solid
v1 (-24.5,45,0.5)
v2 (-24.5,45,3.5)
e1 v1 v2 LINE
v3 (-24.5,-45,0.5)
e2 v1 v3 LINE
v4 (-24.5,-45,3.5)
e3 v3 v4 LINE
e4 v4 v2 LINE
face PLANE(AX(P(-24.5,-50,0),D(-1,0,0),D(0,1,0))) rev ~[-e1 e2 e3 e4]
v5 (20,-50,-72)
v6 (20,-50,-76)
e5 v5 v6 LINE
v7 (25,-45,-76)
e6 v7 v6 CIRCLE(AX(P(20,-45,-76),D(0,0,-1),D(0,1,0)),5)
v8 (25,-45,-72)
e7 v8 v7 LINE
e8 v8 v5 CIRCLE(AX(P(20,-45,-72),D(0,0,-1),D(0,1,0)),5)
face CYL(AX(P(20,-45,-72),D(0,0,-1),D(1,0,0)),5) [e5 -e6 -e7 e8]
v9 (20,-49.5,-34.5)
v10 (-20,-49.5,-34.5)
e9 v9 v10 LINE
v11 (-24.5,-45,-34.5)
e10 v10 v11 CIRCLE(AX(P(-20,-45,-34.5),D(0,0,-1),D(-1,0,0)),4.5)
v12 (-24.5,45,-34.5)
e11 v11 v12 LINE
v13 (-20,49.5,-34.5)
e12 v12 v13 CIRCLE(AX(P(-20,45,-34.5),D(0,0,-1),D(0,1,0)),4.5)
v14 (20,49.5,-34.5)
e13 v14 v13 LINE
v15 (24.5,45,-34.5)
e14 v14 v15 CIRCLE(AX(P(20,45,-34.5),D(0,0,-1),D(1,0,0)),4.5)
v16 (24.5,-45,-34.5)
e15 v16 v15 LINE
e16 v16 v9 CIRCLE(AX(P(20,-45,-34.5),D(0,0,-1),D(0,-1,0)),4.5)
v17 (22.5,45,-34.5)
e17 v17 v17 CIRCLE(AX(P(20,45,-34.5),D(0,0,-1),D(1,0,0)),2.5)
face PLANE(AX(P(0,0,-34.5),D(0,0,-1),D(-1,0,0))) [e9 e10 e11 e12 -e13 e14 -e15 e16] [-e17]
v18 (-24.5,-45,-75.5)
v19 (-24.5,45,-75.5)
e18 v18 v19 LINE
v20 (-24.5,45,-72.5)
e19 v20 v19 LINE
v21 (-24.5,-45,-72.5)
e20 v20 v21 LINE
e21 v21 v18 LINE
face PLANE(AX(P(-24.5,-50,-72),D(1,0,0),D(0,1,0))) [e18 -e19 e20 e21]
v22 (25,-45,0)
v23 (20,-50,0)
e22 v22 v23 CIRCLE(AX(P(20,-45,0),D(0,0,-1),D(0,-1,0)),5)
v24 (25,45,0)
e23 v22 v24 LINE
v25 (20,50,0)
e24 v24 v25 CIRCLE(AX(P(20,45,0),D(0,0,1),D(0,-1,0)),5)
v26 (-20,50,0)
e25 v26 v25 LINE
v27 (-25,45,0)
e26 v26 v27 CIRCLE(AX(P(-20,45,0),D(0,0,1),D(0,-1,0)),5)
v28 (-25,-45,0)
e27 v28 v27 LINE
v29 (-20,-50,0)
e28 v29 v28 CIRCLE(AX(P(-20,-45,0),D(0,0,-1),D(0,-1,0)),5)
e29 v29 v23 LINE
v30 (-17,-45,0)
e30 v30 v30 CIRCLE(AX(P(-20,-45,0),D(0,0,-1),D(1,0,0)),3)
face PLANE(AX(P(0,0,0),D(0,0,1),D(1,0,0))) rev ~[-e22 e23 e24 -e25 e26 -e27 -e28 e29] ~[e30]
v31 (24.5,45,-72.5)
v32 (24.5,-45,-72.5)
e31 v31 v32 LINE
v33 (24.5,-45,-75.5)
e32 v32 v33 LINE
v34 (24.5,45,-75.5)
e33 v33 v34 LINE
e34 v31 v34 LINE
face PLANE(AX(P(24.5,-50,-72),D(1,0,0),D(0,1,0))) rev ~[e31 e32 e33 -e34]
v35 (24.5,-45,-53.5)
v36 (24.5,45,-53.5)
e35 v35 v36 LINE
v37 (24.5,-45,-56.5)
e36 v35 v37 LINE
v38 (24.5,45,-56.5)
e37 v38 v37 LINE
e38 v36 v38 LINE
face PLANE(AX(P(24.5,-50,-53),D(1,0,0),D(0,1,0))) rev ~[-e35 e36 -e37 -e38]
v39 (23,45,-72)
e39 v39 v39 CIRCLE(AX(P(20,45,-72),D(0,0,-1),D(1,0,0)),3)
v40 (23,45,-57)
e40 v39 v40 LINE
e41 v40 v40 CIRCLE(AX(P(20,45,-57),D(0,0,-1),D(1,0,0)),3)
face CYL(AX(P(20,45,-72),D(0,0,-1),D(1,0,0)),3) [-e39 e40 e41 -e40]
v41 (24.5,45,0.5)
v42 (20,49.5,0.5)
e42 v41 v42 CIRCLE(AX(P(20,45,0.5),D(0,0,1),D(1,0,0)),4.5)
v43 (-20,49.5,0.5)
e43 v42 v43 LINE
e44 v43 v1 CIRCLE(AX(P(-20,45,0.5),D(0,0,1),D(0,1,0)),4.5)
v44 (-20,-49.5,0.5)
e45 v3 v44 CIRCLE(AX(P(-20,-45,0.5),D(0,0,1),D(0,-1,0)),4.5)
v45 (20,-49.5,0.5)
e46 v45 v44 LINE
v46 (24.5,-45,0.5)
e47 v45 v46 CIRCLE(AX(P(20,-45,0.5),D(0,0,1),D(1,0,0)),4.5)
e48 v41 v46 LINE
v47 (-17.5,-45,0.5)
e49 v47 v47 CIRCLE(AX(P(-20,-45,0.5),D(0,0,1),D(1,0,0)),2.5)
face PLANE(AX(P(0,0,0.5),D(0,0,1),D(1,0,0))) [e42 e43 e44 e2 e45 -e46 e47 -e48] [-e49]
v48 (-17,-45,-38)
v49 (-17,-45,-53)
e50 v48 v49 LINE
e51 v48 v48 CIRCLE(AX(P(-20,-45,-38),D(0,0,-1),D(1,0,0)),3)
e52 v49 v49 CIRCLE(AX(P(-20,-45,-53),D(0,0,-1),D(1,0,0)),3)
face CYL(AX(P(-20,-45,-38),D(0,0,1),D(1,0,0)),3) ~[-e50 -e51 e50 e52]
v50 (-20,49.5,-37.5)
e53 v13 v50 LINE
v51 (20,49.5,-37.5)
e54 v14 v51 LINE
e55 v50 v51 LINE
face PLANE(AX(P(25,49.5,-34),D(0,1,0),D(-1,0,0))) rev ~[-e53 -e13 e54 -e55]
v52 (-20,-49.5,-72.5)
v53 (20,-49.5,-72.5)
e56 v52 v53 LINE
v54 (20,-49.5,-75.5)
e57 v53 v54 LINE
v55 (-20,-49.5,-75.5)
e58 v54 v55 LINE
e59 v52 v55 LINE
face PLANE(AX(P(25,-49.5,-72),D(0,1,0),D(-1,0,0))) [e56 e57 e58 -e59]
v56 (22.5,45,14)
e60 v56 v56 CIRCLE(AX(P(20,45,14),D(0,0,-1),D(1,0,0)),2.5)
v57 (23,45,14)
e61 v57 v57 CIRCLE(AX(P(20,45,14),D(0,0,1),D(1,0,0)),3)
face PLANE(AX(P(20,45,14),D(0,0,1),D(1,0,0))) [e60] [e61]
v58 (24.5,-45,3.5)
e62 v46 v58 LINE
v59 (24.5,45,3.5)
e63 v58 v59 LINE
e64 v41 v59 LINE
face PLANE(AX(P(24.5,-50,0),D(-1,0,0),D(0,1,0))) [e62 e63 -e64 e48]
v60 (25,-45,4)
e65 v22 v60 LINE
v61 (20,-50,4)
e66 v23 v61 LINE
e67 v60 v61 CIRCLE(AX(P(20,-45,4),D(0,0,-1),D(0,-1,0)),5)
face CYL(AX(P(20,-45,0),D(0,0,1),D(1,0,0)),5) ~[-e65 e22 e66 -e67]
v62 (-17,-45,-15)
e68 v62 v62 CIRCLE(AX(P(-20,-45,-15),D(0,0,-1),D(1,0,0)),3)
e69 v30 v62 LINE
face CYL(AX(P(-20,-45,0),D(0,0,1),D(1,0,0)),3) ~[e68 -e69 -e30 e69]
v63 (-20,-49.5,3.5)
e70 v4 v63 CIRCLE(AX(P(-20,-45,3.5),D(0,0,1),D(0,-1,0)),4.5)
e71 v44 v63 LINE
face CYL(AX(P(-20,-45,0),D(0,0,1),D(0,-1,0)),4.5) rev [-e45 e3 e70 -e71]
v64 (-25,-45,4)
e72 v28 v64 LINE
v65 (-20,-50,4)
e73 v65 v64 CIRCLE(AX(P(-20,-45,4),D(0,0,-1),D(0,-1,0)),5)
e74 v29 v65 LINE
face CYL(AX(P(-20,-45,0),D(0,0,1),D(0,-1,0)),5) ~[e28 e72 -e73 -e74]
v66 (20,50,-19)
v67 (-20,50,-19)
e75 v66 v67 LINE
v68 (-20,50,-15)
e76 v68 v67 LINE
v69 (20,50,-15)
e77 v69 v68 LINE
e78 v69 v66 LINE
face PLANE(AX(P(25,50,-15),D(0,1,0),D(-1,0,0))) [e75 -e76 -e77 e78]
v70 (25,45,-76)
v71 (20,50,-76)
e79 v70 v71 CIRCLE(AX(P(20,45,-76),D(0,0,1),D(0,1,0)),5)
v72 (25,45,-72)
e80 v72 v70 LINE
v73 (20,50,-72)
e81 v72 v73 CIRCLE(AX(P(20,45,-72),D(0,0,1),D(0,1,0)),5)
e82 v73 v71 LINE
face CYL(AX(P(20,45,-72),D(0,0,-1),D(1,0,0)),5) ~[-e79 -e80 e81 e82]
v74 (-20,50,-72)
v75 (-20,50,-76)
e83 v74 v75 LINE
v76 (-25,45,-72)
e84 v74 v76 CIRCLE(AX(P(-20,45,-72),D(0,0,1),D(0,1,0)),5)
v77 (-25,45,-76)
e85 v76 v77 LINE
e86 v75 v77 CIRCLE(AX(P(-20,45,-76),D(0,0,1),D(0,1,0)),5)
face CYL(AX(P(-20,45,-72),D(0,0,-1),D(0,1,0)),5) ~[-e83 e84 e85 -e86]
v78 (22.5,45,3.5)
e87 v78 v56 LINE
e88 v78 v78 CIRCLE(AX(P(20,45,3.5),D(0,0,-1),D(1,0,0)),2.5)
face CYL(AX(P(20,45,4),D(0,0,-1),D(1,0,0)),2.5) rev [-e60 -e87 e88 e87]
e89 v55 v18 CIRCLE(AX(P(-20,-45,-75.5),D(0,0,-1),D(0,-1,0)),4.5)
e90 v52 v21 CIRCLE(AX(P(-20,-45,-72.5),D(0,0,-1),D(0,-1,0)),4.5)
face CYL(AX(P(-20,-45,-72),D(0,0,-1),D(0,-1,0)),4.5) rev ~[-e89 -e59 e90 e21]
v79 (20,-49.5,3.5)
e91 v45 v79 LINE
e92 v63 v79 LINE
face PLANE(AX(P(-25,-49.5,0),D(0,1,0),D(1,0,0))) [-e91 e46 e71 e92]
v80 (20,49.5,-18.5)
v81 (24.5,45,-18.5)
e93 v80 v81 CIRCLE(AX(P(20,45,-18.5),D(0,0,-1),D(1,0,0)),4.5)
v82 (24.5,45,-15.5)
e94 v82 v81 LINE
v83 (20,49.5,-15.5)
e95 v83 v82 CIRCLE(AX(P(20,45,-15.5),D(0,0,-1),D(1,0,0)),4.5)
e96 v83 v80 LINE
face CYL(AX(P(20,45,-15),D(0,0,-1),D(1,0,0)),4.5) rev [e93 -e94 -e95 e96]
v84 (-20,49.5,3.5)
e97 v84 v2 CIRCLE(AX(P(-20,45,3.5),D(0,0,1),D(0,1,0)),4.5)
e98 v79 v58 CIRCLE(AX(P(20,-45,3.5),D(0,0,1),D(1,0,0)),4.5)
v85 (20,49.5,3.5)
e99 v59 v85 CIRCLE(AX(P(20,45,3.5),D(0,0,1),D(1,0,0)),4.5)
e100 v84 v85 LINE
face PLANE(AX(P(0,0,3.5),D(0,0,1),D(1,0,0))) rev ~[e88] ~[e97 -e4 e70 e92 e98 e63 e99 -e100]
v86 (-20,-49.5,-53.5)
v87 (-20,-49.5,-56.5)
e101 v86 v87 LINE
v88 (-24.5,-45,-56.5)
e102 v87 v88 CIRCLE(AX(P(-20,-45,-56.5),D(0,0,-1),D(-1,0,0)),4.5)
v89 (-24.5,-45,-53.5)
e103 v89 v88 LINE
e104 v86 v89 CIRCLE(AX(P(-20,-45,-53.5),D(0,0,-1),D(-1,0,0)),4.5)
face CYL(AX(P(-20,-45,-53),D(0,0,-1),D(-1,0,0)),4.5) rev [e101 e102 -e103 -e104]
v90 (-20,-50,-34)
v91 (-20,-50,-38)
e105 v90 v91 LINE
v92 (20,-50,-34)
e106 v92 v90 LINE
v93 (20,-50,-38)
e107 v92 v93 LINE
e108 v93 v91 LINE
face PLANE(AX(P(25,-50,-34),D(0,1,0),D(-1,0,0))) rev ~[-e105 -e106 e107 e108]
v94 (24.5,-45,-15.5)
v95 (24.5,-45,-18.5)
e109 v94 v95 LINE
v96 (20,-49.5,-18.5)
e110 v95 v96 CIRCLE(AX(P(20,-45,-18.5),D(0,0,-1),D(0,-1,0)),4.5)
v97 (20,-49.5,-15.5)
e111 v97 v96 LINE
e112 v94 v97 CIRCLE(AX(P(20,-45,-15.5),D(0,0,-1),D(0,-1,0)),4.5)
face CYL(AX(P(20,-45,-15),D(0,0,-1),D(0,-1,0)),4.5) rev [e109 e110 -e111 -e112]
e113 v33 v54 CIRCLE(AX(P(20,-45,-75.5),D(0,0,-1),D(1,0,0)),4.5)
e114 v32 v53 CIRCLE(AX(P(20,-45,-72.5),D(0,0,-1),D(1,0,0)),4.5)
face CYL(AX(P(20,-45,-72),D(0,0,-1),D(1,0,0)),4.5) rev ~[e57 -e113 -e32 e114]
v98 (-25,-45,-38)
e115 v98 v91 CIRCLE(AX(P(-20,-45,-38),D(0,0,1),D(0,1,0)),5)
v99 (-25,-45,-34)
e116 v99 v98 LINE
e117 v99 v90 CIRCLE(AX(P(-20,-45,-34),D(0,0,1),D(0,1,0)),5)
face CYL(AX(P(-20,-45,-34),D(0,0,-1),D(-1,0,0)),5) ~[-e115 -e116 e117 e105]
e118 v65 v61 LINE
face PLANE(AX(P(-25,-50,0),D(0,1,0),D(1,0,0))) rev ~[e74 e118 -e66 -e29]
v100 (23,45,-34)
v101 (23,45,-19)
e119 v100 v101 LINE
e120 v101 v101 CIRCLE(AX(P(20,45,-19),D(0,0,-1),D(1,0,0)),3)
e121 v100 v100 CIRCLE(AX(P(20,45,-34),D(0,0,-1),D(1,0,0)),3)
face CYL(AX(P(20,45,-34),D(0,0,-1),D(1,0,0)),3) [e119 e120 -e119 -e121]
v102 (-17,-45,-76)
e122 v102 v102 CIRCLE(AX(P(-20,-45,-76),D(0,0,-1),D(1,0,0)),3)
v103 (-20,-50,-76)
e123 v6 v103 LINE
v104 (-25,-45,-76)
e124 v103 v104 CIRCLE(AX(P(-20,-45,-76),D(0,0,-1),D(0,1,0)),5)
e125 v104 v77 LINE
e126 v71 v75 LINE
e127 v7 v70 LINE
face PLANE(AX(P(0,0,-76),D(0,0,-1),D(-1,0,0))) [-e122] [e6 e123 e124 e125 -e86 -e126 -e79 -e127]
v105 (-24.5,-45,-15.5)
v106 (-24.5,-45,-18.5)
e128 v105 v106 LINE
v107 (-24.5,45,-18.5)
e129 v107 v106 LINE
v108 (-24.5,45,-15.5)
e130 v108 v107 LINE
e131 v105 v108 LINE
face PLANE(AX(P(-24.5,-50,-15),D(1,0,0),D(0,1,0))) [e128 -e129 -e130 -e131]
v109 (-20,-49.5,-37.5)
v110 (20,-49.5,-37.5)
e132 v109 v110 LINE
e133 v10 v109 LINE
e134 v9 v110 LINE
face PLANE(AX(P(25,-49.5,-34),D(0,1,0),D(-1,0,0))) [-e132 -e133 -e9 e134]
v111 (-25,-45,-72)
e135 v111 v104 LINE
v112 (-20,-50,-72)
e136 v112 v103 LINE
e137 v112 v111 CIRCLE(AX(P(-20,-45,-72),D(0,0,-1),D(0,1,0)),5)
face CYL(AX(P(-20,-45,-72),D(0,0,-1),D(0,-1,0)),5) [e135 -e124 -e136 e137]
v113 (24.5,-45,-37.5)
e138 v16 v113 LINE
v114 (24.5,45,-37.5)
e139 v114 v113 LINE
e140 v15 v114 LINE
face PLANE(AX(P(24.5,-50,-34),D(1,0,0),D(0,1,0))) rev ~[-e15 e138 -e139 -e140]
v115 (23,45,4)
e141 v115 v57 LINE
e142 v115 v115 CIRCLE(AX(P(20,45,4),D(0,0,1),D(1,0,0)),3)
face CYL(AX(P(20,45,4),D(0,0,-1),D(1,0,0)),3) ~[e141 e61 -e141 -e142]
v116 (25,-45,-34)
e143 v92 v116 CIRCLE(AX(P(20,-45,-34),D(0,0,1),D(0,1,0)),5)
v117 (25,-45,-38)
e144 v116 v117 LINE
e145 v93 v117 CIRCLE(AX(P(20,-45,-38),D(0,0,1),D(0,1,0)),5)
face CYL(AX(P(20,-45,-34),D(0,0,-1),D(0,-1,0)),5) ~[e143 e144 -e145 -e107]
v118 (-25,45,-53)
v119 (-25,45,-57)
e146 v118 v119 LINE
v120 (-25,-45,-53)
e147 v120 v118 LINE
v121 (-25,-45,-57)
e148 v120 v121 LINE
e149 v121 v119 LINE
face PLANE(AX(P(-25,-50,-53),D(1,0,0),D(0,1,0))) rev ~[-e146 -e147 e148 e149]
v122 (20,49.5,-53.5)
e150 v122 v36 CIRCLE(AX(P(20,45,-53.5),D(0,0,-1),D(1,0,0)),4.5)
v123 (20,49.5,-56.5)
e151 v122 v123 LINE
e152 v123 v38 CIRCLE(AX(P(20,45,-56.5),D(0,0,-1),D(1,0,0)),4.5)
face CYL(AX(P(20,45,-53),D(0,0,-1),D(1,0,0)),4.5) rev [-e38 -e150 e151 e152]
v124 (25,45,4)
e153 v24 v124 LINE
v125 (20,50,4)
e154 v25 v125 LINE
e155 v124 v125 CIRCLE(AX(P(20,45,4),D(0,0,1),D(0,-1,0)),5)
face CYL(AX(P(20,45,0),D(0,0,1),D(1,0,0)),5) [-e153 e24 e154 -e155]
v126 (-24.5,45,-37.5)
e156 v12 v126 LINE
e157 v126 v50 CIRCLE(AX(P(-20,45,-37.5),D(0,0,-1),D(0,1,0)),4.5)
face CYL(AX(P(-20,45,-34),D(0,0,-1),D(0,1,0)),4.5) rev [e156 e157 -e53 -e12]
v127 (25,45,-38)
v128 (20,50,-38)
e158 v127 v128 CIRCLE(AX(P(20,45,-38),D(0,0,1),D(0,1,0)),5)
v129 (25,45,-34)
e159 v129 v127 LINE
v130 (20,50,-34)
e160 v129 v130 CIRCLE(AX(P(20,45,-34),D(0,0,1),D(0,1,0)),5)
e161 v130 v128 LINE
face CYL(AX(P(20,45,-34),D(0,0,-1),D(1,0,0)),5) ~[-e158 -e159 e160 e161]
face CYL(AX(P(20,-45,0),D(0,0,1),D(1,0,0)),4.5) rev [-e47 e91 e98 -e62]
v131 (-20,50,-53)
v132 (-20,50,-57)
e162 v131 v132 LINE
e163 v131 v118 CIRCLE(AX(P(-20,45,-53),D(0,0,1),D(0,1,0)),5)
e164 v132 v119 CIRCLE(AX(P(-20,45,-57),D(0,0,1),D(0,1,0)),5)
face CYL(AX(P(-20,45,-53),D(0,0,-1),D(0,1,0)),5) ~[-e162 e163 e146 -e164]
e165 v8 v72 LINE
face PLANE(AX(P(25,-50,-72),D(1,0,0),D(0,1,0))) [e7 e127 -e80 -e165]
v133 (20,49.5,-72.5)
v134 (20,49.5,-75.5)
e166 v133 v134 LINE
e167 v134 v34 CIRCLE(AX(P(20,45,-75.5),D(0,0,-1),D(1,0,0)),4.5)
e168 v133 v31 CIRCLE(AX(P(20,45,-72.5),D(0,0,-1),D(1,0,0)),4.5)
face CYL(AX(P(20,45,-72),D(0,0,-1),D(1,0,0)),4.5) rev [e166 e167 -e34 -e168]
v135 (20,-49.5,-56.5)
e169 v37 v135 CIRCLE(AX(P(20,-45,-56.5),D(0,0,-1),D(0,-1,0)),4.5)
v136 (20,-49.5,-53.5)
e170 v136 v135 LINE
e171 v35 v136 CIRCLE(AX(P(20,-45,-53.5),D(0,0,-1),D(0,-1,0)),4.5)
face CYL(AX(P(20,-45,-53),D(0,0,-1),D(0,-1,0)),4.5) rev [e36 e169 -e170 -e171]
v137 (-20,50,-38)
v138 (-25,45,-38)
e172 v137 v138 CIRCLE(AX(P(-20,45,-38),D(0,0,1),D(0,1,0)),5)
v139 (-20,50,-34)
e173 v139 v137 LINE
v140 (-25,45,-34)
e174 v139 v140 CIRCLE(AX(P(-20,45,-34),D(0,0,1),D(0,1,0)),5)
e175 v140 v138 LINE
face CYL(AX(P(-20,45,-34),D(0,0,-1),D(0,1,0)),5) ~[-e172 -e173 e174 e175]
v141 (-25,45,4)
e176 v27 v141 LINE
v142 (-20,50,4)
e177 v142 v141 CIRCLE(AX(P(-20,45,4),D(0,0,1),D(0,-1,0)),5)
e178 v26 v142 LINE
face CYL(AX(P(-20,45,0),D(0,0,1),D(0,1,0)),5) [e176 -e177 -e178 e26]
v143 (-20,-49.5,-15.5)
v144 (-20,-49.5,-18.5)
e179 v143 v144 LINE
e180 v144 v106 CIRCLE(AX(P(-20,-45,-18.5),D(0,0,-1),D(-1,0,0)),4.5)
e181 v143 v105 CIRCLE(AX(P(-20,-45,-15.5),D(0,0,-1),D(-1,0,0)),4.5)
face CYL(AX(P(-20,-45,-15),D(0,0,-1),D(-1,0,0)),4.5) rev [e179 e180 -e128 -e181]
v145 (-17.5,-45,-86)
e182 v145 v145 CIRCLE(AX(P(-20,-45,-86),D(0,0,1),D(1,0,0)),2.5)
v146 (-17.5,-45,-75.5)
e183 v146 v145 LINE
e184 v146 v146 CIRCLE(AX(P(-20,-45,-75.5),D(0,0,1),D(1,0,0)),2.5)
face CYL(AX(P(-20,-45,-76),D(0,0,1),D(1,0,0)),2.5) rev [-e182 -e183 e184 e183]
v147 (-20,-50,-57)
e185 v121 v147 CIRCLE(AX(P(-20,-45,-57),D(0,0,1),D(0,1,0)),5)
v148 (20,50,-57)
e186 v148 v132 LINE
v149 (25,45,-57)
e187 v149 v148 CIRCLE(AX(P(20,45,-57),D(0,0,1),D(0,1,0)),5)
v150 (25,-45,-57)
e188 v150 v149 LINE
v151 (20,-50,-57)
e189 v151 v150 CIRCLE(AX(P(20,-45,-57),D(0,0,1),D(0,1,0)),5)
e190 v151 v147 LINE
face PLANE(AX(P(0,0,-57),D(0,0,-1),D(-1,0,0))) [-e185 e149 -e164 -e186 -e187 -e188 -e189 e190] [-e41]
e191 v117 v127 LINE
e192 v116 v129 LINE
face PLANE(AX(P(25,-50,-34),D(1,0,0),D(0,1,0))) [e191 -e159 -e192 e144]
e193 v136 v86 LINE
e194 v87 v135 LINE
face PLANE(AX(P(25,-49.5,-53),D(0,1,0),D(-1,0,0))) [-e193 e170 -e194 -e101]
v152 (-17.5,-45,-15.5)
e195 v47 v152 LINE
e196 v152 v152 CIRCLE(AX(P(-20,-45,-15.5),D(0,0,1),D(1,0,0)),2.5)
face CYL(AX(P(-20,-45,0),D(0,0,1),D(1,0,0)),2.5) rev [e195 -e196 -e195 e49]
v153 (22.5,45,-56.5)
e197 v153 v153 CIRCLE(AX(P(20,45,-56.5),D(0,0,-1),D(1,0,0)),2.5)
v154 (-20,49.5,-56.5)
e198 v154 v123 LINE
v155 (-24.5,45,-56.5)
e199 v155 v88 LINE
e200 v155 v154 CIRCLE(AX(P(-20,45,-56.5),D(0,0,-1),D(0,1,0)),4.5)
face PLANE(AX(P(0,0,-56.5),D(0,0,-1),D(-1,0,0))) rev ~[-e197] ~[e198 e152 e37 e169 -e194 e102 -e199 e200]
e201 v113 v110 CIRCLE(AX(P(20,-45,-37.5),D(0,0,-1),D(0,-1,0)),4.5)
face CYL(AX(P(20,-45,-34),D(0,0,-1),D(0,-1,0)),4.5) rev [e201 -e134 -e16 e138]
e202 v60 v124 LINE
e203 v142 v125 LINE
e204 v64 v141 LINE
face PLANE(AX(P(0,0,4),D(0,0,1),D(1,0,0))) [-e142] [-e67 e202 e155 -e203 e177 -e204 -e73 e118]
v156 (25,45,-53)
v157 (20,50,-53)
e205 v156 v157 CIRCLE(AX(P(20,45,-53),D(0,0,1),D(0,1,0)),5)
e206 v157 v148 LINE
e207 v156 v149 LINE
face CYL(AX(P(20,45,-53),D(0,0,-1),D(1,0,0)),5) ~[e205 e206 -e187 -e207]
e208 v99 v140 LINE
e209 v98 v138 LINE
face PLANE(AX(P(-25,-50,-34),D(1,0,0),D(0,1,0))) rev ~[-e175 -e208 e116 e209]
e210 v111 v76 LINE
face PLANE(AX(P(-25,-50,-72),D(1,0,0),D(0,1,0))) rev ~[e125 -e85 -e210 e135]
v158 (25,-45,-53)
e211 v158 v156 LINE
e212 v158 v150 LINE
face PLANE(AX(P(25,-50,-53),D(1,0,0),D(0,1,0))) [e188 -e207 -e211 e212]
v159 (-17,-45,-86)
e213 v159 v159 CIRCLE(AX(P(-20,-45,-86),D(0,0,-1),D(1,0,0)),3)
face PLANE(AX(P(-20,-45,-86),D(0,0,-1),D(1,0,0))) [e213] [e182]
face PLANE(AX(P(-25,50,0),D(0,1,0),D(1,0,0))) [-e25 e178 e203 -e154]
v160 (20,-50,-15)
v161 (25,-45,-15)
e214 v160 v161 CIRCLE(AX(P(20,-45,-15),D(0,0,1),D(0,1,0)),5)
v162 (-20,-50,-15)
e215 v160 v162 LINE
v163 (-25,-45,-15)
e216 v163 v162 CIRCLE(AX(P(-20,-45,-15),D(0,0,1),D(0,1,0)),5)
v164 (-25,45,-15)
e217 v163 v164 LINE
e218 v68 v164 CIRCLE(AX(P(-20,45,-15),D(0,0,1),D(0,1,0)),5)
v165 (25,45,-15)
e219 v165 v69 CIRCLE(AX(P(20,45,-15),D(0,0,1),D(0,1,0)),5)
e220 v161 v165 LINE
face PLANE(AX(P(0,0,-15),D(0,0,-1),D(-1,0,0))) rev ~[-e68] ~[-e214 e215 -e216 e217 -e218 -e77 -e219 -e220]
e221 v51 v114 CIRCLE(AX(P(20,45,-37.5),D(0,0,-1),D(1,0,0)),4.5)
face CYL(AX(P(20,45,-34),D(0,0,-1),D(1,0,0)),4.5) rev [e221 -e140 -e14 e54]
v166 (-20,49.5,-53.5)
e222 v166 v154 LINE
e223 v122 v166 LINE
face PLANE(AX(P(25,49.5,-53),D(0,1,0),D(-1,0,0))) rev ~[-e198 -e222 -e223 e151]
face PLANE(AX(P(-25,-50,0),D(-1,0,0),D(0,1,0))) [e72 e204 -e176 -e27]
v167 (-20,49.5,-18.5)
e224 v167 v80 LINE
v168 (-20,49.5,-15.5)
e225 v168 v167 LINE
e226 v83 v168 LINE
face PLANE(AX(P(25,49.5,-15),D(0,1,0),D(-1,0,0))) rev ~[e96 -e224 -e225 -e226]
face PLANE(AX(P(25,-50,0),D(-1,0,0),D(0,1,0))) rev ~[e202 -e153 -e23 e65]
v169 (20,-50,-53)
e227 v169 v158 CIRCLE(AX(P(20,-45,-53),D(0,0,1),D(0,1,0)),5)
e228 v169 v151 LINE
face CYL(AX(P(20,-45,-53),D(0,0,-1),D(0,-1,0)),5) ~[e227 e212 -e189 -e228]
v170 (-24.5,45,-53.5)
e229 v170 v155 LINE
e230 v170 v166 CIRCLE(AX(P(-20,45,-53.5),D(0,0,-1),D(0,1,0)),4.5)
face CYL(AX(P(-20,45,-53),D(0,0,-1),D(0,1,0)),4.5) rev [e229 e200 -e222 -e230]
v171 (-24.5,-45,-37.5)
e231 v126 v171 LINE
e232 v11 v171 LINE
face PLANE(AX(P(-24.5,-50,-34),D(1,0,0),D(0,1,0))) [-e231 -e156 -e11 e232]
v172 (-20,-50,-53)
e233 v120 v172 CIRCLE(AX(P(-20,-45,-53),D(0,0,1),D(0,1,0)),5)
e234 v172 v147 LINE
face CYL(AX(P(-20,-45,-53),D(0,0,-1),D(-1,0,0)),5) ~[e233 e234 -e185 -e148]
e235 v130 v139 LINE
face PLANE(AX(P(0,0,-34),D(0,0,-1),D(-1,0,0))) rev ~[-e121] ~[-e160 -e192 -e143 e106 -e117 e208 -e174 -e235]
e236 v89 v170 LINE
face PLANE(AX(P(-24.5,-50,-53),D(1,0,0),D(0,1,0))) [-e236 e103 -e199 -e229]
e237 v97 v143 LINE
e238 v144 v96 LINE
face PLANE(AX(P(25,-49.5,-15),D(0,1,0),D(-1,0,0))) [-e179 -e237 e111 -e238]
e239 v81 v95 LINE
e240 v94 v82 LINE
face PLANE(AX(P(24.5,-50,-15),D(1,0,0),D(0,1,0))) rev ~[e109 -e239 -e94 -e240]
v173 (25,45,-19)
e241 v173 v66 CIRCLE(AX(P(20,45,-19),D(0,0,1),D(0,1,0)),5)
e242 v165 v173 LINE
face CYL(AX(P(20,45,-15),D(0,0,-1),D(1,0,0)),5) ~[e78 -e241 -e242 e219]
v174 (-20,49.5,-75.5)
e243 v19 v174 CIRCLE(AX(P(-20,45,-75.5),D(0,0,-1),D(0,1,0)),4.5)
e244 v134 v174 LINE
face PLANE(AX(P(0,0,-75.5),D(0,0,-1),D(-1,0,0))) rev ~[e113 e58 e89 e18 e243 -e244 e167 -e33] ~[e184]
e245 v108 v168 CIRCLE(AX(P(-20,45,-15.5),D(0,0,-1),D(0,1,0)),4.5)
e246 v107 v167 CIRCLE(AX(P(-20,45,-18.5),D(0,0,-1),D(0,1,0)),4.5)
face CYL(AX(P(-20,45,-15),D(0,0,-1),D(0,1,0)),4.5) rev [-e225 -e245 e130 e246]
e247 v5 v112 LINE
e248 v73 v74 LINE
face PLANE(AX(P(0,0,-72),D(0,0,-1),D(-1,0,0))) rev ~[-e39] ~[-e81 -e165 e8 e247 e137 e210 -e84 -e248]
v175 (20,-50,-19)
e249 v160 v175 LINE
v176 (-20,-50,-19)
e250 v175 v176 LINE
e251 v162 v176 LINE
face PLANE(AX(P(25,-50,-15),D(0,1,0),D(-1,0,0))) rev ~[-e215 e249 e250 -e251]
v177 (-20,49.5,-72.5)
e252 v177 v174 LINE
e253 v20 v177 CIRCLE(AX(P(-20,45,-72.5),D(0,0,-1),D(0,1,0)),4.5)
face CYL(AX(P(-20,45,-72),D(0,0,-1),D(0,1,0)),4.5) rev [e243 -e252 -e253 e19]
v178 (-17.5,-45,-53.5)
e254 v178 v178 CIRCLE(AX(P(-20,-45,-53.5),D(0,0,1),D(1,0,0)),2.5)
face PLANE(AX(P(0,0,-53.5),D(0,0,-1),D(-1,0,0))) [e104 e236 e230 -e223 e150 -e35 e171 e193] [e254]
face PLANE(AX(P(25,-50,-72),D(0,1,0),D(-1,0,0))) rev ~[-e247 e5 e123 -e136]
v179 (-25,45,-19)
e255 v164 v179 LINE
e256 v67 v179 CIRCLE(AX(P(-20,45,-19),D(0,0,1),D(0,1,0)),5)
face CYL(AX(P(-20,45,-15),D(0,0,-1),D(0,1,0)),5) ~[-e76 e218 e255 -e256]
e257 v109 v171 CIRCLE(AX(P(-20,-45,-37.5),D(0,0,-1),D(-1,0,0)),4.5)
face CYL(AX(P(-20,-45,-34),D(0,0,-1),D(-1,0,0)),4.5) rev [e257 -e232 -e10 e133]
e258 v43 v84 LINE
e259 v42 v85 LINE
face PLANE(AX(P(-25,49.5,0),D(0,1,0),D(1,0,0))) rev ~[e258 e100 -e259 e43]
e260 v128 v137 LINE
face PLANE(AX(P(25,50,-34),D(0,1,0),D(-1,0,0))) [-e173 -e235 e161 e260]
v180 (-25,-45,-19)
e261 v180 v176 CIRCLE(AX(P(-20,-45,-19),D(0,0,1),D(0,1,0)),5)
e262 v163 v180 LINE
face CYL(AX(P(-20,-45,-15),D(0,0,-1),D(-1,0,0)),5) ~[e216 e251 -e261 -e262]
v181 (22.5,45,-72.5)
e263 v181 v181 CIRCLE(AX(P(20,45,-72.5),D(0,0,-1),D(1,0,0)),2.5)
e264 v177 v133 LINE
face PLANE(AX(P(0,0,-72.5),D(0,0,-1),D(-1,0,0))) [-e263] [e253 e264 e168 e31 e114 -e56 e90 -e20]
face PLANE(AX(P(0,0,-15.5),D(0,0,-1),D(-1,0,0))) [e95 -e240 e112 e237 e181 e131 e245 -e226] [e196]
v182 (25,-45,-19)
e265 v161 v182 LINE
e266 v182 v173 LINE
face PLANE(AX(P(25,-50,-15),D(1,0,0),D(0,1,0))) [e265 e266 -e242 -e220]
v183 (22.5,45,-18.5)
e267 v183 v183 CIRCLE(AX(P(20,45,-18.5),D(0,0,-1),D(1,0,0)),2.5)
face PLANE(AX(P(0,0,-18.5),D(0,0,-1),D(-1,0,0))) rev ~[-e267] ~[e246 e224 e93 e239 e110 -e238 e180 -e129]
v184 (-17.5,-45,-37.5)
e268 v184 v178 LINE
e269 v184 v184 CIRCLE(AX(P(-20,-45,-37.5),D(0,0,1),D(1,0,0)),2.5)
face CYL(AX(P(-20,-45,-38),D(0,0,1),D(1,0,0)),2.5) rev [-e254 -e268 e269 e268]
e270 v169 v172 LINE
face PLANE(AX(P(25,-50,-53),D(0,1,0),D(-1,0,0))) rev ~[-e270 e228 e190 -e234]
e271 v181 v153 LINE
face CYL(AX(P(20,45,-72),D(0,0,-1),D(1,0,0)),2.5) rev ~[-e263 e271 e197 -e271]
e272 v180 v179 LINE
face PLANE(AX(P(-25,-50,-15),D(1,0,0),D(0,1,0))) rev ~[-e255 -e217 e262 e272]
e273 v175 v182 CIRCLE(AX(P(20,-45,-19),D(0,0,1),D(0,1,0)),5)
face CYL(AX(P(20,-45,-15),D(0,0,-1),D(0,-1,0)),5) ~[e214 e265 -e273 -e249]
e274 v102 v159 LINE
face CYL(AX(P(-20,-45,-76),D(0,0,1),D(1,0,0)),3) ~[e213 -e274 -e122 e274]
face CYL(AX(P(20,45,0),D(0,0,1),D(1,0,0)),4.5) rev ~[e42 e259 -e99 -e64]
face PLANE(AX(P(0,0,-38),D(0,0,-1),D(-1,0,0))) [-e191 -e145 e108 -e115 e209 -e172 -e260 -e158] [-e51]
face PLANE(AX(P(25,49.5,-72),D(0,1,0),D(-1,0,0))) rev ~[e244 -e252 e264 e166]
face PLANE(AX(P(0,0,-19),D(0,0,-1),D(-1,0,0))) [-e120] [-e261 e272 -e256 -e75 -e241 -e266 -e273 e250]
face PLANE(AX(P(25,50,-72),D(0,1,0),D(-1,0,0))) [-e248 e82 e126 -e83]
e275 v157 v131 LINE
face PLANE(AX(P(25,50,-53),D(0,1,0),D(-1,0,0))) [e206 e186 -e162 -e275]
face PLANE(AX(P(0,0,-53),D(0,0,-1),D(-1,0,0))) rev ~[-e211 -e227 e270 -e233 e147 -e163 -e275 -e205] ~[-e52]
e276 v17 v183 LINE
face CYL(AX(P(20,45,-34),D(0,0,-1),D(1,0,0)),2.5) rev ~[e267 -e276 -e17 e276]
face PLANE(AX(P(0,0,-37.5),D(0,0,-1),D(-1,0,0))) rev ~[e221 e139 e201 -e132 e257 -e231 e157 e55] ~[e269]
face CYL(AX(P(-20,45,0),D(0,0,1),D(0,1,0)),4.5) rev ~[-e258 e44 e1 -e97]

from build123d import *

# Parameters (mm, degrees)
SKETCH_1_W       = 50
SKETCH_1_H       = 100
EXTRUDE_1_DEPTH  = 4
FILLET_2_R       = 5
FILLET_3_R       = 5
FILLET_4_R       = 5
FILLET_5_R       = 5
SKETCH_2_R       = 3
EXTRUDE_2_DEPTH  = 10
SKETCH_3_R       = 3
EXTRUDE_3_DEPTH  = 15
SKETCH_6_W       = 50
SKETCH_6_H       = 100
EXTRUDE_4_DEPTH  = 4
FILLET_6_R       = 5
FILLET_7_R       = 5
FILLET_8_R       = 5
FILLET_9_R       = 5
SKETCH_7_W       = 50
SKETCH_7_H       = 100
EXTRUDE_5_DEPTH  = 4
EXTRUDE_START    = 15
SKETCH_8_R       = 3
EXTRUDE_6_DEPTH  = 15
SKETCH_9_W       = 50
SKETCH_9_H       = 100
EXTRUDE_7_DEPTH  = 4
SKETCH_11_R      = 3
EXTRUDE_9_DEPTH  = 15
FILLET_10_R      = 5
FILLET_11_R      = 5
FILLET_12_R      = 5
FILLET_13_R      = 5
FILLET_14_R      = 5
FILLET_15_R      = 5
FILLET_16_R      = 5
FILLET_17_R      = 5
SKETCH_13_W      = 50
SKETCH_13_H      = 100
EXTRUDE_10_DEPTH = 4
SKETCH_14_R      = 3
EXTRUDE_11_DEPTH = 15
FILLET_18_R      = 5
FILLET_19_R      = 5
FILLET_20_R      = 5
FILLET_21_R      = 5
SKETCH_15_R      = 3
EXTRUDE_12_DEPTH = 10
SHELL_1_T        = -0.5


with BuildPart() as part:
    # 草图1 → 凸台-拉伸1 (new body)
    with BuildSketch(Plane.XY):
        Rectangle(SKETCH_1_W, SKETCH_1_H)
    extrude(amount=EXTRUDE_1_DEPTH)

    # 圆角2
    fillet_2_edges = [part.edges().sort_by_distance(p)[0] for p in [
        (25, 50, 2),
    ]]
    fillet(fillet_2_edges, radius=FILLET_2_R)

    # 圆角3
    fillet_3_edges = [part.edges().sort_by_distance(p)[0] for p in [
        (-25, 50, 2),
    ]]
    fillet(fillet_3_edges, radius=FILLET_3_R)

    # 圆角4
    fillet_4_edges = [part.edges().sort_by_distance(p)[0] for p in [
        (25, -50, 2),
    ]]
    fillet(fillet_4_edges, radius=FILLET_4_R)

    # 圆角5
    fillet_5_edges = [part.edges().sort_by_distance(p)[0] for p in [
        (-25, -50, 2),
    ]]
    fillet(fillet_5_edges, radius=FILLET_5_R)

    # 草图2 → 凸台-拉伸2 (add)
    with BuildSketch(Plane.XY.offset(4)):
        with Locations((20, 45)):
            Circle(SKETCH_2_R)
    extrude(amount=EXTRUDE_2_DEPTH)

    # 草图3 → 凸台-拉伸3 (add)
    with BuildSketch(Plane(origin=(0, 0, 0), x_dir=(-1, 0, 0), z_dir=(0, 0, -1))):
        with Locations(Location((20, -45, 0), (0, 0, 180))):
            Circle(SKETCH_3_R)
    extrude(amount=EXTRUDE_3_DEPTH)

    # 草图6 → 凸台-拉伸4 (add)
    with BuildSketch(Plane(origin=(0, 0, -15), x_dir=(-1, 0, 0), z_dir=(0, 0, -1))):
        Rectangle(SKETCH_6_W, SKETCH_6_H)
    extrude(amount=EXTRUDE_4_DEPTH)

    # 圆角6
    fillet_6_edges = [part.edges().sort_by_distance(p)[0] for p in [
        (25, 50, -17),
    ]]
    fillet(fillet_6_edges, radius=FILLET_6_R)

    # 圆角7
    fillet_7_edges = [part.edges().sort_by_distance(p)[0] for p in [
        (-25, 50, -17),
    ]]
    fillet(fillet_7_edges, radius=FILLET_7_R)

    # 圆角8
    fillet_8_edges = [part.edges().sort_by_distance(p)[0] for p in [
        (-25, -50, -17),
    ]]
    fillet(fillet_8_edges, radius=FILLET_8_R)

    # 圆角9
    fillet_9_edges = [part.edges().sort_by_distance(p)[0] for p in [
        (25, -50, -17),
    ]]
    fillet(fillet_9_edges, radius=FILLET_9_R)



with BuildPart() as body_2:
    # 草图7 → 凸台-拉伸5 (new body)
    with BuildSketch(Plane(origin=(0, 0, -34), x_dir=(-1, 0, 0), z_dir=(0, 0, -1))):
        Rectangle(SKETCH_7_W, SKETCH_7_H)
    extrude(amount=EXTRUDE_5_DEPTH)


with BuildPart() as part_1:
    add(part.part)

    add(body_2.part)  # 凸台-拉伸6 merges body 2
    # 草图8 → 凸台-拉伸6 (add)
    with BuildSketch(Plane(origin=(0, 0, -19), x_dir=(-1, 0, 0), z_dir=(0, 0, -1)).offset(EXTRUDE_START)):
        with Locations(Location((-20, 45, 0), (0, 0, 180))):
            Circle(SKETCH_8_R)
    extrude(amount=-EXTRUDE_6_DEPTH)



with BuildPart() as body_2_2:
    # 草图9 → 凸台-拉伸7 (new body)
    with BuildSketch(Plane(origin=(0, 0, -53), x_dir=(-1, 0, 0), z_dir=(0, 0, -1))):
        Rectangle(SKETCH_9_W, SKETCH_9_H)
    extrude(amount=EXTRUDE_7_DEPTH)


with BuildPart() as part_2:
    add(part_1.part)

    add(body_2_2.part)  # 凸台-拉伸9 merges body 2 2
    # 草图11 → 凸台-拉伸9 (add)
    with BuildSketch(Plane(origin=(0, 0, -38), x_dir=(-1, 0, 0), z_dir=(0, 0, -1))):
        with Locations(Location((20, -45, 0), (0, 0, 180))):
            Circle(SKETCH_11_R)
    extrude(amount=EXTRUDE_9_DEPTH)

    # 圆角10
    fillet_10_edges = [part_2.edges().sort_by_distance(p)[0] for p in [
        (25, 50, -36),
    ]]
    fillet(fillet_10_edges, radius=FILLET_10_R)

    # 圆角11
    fillet_11_edges = [part_2.edges().sort_by_distance(p)[0] for p in [
        (25, 50, -55),
    ]]
    fillet(fillet_11_edges, radius=FILLET_11_R)

    # 圆角12
    fillet_12_edges = [part_2.edges().sort_by_distance(p)[0] for p in [
        (-25, 50, -55),
    ]]
    fillet(fillet_12_edges, radius=FILLET_12_R)

    # 圆角13
    fillet_13_edges = [part_2.edges().sort_by_distance(p)[0] for p in [
        (-25, 50, -36),
    ]]
    fillet(fillet_13_edges, radius=FILLET_13_R)

    # 圆角14
    fillet_14_edges = [part_2.edges().sort_by_distance(p)[0] for p in [
        (-25, -50, -55),
    ]]
    fillet(fillet_14_edges, radius=FILLET_14_R)

    # 圆角15
    fillet_15_edges = [part_2.edges().sort_by_distance(p)[0] for p in [
        (-25, -50, -36),
    ]]
    fillet(fillet_15_edges, radius=FILLET_15_R)

    # 圆角16
    fillet_16_edges = [part_2.edges().sort_by_distance(p)[0] for p in [
        (25, -50, -55),
    ]]
    fillet(fillet_16_edges, radius=FILLET_16_R)

    # 圆角17
    fillet_17_edges = [part_2.edges().sort_by_distance(p)[0] for p in [
        (25, -50, -36),
    ]]
    fillet(fillet_17_edges, radius=FILLET_17_R)



with BuildPart() as body_2_3:
    # 草图13 → 凸台-拉伸10 (new body)
    with BuildSketch(Plane(origin=(0, 0, -72), x_dir=(-1, 0, 0), z_dir=(0, 0, -1))):
        Rectangle(SKETCH_13_W, SKETCH_13_H)
    extrude(amount=EXTRUDE_10_DEPTH)


with BuildPart() as part_3:
    add(part_2.part)

    add(body_2_3.part)  # 凸台-拉伸11 merges body 2 3
    # 草图14 → 凸台-拉伸11 (add)
    with BuildSketch(Plane(origin=(0, 0, -57), x_dir=(-1, 0, 0), z_dir=(0, 0, -1)).offset(EXTRUDE_START)):
        with Locations(Location((-20, 45, 0), (0, 0, 180))):
            Circle(SKETCH_14_R)
    extrude(amount=-EXTRUDE_11_DEPTH)

    # 圆角18
    fillet_18_edges = [part_3.edges().sort_by_distance(p)[0] for p in [
        (25, 50, -74),
    ]]
    fillet(fillet_18_edges, radius=FILLET_18_R)

    # 圆角19
    fillet_19_edges = [part_3.edges().sort_by_distance(p)[0] for p in [
        (-25, 50, -74),
    ]]
    fillet(fillet_19_edges, radius=FILLET_19_R)

    # 圆角20
    fillet_20_edges = [part_3.edges().sort_by_distance(p)[0] for p in [
        (25, -50, -74),
    ]]
    fillet(fillet_20_edges, radius=FILLET_20_R)

    # 圆角21
    fillet_21_edges = [part_3.edges().sort_by_distance(p)[0] for p in [
        (-25, -50, -74),
    ]]
    fillet(fillet_21_edges, radius=FILLET_21_R)

    # 草图15 → 凸台-拉伸12 (add)
    with BuildSketch(Plane(origin=(0, 0, -76), x_dir=(-1, 0, 0), z_dir=(0, 0, -1))):
        with Locations(Location((20, -45, 0), (0, 0, 180))):
            Circle(SKETCH_15_R)
    extrude(amount=EXTRUDE_12_DEPTH)

    # 抽壳1
    shell_1_openings = [part_3.faces().sort_by_distance(p)[0] for p in [
        (-20, -45, -86),
        (20, 45, 14),
    ]]
    offset(amount=SHELL_1_T, openings=shell_1_openings, kind=Kind.INTERSECTION)


solid = part_3.part
